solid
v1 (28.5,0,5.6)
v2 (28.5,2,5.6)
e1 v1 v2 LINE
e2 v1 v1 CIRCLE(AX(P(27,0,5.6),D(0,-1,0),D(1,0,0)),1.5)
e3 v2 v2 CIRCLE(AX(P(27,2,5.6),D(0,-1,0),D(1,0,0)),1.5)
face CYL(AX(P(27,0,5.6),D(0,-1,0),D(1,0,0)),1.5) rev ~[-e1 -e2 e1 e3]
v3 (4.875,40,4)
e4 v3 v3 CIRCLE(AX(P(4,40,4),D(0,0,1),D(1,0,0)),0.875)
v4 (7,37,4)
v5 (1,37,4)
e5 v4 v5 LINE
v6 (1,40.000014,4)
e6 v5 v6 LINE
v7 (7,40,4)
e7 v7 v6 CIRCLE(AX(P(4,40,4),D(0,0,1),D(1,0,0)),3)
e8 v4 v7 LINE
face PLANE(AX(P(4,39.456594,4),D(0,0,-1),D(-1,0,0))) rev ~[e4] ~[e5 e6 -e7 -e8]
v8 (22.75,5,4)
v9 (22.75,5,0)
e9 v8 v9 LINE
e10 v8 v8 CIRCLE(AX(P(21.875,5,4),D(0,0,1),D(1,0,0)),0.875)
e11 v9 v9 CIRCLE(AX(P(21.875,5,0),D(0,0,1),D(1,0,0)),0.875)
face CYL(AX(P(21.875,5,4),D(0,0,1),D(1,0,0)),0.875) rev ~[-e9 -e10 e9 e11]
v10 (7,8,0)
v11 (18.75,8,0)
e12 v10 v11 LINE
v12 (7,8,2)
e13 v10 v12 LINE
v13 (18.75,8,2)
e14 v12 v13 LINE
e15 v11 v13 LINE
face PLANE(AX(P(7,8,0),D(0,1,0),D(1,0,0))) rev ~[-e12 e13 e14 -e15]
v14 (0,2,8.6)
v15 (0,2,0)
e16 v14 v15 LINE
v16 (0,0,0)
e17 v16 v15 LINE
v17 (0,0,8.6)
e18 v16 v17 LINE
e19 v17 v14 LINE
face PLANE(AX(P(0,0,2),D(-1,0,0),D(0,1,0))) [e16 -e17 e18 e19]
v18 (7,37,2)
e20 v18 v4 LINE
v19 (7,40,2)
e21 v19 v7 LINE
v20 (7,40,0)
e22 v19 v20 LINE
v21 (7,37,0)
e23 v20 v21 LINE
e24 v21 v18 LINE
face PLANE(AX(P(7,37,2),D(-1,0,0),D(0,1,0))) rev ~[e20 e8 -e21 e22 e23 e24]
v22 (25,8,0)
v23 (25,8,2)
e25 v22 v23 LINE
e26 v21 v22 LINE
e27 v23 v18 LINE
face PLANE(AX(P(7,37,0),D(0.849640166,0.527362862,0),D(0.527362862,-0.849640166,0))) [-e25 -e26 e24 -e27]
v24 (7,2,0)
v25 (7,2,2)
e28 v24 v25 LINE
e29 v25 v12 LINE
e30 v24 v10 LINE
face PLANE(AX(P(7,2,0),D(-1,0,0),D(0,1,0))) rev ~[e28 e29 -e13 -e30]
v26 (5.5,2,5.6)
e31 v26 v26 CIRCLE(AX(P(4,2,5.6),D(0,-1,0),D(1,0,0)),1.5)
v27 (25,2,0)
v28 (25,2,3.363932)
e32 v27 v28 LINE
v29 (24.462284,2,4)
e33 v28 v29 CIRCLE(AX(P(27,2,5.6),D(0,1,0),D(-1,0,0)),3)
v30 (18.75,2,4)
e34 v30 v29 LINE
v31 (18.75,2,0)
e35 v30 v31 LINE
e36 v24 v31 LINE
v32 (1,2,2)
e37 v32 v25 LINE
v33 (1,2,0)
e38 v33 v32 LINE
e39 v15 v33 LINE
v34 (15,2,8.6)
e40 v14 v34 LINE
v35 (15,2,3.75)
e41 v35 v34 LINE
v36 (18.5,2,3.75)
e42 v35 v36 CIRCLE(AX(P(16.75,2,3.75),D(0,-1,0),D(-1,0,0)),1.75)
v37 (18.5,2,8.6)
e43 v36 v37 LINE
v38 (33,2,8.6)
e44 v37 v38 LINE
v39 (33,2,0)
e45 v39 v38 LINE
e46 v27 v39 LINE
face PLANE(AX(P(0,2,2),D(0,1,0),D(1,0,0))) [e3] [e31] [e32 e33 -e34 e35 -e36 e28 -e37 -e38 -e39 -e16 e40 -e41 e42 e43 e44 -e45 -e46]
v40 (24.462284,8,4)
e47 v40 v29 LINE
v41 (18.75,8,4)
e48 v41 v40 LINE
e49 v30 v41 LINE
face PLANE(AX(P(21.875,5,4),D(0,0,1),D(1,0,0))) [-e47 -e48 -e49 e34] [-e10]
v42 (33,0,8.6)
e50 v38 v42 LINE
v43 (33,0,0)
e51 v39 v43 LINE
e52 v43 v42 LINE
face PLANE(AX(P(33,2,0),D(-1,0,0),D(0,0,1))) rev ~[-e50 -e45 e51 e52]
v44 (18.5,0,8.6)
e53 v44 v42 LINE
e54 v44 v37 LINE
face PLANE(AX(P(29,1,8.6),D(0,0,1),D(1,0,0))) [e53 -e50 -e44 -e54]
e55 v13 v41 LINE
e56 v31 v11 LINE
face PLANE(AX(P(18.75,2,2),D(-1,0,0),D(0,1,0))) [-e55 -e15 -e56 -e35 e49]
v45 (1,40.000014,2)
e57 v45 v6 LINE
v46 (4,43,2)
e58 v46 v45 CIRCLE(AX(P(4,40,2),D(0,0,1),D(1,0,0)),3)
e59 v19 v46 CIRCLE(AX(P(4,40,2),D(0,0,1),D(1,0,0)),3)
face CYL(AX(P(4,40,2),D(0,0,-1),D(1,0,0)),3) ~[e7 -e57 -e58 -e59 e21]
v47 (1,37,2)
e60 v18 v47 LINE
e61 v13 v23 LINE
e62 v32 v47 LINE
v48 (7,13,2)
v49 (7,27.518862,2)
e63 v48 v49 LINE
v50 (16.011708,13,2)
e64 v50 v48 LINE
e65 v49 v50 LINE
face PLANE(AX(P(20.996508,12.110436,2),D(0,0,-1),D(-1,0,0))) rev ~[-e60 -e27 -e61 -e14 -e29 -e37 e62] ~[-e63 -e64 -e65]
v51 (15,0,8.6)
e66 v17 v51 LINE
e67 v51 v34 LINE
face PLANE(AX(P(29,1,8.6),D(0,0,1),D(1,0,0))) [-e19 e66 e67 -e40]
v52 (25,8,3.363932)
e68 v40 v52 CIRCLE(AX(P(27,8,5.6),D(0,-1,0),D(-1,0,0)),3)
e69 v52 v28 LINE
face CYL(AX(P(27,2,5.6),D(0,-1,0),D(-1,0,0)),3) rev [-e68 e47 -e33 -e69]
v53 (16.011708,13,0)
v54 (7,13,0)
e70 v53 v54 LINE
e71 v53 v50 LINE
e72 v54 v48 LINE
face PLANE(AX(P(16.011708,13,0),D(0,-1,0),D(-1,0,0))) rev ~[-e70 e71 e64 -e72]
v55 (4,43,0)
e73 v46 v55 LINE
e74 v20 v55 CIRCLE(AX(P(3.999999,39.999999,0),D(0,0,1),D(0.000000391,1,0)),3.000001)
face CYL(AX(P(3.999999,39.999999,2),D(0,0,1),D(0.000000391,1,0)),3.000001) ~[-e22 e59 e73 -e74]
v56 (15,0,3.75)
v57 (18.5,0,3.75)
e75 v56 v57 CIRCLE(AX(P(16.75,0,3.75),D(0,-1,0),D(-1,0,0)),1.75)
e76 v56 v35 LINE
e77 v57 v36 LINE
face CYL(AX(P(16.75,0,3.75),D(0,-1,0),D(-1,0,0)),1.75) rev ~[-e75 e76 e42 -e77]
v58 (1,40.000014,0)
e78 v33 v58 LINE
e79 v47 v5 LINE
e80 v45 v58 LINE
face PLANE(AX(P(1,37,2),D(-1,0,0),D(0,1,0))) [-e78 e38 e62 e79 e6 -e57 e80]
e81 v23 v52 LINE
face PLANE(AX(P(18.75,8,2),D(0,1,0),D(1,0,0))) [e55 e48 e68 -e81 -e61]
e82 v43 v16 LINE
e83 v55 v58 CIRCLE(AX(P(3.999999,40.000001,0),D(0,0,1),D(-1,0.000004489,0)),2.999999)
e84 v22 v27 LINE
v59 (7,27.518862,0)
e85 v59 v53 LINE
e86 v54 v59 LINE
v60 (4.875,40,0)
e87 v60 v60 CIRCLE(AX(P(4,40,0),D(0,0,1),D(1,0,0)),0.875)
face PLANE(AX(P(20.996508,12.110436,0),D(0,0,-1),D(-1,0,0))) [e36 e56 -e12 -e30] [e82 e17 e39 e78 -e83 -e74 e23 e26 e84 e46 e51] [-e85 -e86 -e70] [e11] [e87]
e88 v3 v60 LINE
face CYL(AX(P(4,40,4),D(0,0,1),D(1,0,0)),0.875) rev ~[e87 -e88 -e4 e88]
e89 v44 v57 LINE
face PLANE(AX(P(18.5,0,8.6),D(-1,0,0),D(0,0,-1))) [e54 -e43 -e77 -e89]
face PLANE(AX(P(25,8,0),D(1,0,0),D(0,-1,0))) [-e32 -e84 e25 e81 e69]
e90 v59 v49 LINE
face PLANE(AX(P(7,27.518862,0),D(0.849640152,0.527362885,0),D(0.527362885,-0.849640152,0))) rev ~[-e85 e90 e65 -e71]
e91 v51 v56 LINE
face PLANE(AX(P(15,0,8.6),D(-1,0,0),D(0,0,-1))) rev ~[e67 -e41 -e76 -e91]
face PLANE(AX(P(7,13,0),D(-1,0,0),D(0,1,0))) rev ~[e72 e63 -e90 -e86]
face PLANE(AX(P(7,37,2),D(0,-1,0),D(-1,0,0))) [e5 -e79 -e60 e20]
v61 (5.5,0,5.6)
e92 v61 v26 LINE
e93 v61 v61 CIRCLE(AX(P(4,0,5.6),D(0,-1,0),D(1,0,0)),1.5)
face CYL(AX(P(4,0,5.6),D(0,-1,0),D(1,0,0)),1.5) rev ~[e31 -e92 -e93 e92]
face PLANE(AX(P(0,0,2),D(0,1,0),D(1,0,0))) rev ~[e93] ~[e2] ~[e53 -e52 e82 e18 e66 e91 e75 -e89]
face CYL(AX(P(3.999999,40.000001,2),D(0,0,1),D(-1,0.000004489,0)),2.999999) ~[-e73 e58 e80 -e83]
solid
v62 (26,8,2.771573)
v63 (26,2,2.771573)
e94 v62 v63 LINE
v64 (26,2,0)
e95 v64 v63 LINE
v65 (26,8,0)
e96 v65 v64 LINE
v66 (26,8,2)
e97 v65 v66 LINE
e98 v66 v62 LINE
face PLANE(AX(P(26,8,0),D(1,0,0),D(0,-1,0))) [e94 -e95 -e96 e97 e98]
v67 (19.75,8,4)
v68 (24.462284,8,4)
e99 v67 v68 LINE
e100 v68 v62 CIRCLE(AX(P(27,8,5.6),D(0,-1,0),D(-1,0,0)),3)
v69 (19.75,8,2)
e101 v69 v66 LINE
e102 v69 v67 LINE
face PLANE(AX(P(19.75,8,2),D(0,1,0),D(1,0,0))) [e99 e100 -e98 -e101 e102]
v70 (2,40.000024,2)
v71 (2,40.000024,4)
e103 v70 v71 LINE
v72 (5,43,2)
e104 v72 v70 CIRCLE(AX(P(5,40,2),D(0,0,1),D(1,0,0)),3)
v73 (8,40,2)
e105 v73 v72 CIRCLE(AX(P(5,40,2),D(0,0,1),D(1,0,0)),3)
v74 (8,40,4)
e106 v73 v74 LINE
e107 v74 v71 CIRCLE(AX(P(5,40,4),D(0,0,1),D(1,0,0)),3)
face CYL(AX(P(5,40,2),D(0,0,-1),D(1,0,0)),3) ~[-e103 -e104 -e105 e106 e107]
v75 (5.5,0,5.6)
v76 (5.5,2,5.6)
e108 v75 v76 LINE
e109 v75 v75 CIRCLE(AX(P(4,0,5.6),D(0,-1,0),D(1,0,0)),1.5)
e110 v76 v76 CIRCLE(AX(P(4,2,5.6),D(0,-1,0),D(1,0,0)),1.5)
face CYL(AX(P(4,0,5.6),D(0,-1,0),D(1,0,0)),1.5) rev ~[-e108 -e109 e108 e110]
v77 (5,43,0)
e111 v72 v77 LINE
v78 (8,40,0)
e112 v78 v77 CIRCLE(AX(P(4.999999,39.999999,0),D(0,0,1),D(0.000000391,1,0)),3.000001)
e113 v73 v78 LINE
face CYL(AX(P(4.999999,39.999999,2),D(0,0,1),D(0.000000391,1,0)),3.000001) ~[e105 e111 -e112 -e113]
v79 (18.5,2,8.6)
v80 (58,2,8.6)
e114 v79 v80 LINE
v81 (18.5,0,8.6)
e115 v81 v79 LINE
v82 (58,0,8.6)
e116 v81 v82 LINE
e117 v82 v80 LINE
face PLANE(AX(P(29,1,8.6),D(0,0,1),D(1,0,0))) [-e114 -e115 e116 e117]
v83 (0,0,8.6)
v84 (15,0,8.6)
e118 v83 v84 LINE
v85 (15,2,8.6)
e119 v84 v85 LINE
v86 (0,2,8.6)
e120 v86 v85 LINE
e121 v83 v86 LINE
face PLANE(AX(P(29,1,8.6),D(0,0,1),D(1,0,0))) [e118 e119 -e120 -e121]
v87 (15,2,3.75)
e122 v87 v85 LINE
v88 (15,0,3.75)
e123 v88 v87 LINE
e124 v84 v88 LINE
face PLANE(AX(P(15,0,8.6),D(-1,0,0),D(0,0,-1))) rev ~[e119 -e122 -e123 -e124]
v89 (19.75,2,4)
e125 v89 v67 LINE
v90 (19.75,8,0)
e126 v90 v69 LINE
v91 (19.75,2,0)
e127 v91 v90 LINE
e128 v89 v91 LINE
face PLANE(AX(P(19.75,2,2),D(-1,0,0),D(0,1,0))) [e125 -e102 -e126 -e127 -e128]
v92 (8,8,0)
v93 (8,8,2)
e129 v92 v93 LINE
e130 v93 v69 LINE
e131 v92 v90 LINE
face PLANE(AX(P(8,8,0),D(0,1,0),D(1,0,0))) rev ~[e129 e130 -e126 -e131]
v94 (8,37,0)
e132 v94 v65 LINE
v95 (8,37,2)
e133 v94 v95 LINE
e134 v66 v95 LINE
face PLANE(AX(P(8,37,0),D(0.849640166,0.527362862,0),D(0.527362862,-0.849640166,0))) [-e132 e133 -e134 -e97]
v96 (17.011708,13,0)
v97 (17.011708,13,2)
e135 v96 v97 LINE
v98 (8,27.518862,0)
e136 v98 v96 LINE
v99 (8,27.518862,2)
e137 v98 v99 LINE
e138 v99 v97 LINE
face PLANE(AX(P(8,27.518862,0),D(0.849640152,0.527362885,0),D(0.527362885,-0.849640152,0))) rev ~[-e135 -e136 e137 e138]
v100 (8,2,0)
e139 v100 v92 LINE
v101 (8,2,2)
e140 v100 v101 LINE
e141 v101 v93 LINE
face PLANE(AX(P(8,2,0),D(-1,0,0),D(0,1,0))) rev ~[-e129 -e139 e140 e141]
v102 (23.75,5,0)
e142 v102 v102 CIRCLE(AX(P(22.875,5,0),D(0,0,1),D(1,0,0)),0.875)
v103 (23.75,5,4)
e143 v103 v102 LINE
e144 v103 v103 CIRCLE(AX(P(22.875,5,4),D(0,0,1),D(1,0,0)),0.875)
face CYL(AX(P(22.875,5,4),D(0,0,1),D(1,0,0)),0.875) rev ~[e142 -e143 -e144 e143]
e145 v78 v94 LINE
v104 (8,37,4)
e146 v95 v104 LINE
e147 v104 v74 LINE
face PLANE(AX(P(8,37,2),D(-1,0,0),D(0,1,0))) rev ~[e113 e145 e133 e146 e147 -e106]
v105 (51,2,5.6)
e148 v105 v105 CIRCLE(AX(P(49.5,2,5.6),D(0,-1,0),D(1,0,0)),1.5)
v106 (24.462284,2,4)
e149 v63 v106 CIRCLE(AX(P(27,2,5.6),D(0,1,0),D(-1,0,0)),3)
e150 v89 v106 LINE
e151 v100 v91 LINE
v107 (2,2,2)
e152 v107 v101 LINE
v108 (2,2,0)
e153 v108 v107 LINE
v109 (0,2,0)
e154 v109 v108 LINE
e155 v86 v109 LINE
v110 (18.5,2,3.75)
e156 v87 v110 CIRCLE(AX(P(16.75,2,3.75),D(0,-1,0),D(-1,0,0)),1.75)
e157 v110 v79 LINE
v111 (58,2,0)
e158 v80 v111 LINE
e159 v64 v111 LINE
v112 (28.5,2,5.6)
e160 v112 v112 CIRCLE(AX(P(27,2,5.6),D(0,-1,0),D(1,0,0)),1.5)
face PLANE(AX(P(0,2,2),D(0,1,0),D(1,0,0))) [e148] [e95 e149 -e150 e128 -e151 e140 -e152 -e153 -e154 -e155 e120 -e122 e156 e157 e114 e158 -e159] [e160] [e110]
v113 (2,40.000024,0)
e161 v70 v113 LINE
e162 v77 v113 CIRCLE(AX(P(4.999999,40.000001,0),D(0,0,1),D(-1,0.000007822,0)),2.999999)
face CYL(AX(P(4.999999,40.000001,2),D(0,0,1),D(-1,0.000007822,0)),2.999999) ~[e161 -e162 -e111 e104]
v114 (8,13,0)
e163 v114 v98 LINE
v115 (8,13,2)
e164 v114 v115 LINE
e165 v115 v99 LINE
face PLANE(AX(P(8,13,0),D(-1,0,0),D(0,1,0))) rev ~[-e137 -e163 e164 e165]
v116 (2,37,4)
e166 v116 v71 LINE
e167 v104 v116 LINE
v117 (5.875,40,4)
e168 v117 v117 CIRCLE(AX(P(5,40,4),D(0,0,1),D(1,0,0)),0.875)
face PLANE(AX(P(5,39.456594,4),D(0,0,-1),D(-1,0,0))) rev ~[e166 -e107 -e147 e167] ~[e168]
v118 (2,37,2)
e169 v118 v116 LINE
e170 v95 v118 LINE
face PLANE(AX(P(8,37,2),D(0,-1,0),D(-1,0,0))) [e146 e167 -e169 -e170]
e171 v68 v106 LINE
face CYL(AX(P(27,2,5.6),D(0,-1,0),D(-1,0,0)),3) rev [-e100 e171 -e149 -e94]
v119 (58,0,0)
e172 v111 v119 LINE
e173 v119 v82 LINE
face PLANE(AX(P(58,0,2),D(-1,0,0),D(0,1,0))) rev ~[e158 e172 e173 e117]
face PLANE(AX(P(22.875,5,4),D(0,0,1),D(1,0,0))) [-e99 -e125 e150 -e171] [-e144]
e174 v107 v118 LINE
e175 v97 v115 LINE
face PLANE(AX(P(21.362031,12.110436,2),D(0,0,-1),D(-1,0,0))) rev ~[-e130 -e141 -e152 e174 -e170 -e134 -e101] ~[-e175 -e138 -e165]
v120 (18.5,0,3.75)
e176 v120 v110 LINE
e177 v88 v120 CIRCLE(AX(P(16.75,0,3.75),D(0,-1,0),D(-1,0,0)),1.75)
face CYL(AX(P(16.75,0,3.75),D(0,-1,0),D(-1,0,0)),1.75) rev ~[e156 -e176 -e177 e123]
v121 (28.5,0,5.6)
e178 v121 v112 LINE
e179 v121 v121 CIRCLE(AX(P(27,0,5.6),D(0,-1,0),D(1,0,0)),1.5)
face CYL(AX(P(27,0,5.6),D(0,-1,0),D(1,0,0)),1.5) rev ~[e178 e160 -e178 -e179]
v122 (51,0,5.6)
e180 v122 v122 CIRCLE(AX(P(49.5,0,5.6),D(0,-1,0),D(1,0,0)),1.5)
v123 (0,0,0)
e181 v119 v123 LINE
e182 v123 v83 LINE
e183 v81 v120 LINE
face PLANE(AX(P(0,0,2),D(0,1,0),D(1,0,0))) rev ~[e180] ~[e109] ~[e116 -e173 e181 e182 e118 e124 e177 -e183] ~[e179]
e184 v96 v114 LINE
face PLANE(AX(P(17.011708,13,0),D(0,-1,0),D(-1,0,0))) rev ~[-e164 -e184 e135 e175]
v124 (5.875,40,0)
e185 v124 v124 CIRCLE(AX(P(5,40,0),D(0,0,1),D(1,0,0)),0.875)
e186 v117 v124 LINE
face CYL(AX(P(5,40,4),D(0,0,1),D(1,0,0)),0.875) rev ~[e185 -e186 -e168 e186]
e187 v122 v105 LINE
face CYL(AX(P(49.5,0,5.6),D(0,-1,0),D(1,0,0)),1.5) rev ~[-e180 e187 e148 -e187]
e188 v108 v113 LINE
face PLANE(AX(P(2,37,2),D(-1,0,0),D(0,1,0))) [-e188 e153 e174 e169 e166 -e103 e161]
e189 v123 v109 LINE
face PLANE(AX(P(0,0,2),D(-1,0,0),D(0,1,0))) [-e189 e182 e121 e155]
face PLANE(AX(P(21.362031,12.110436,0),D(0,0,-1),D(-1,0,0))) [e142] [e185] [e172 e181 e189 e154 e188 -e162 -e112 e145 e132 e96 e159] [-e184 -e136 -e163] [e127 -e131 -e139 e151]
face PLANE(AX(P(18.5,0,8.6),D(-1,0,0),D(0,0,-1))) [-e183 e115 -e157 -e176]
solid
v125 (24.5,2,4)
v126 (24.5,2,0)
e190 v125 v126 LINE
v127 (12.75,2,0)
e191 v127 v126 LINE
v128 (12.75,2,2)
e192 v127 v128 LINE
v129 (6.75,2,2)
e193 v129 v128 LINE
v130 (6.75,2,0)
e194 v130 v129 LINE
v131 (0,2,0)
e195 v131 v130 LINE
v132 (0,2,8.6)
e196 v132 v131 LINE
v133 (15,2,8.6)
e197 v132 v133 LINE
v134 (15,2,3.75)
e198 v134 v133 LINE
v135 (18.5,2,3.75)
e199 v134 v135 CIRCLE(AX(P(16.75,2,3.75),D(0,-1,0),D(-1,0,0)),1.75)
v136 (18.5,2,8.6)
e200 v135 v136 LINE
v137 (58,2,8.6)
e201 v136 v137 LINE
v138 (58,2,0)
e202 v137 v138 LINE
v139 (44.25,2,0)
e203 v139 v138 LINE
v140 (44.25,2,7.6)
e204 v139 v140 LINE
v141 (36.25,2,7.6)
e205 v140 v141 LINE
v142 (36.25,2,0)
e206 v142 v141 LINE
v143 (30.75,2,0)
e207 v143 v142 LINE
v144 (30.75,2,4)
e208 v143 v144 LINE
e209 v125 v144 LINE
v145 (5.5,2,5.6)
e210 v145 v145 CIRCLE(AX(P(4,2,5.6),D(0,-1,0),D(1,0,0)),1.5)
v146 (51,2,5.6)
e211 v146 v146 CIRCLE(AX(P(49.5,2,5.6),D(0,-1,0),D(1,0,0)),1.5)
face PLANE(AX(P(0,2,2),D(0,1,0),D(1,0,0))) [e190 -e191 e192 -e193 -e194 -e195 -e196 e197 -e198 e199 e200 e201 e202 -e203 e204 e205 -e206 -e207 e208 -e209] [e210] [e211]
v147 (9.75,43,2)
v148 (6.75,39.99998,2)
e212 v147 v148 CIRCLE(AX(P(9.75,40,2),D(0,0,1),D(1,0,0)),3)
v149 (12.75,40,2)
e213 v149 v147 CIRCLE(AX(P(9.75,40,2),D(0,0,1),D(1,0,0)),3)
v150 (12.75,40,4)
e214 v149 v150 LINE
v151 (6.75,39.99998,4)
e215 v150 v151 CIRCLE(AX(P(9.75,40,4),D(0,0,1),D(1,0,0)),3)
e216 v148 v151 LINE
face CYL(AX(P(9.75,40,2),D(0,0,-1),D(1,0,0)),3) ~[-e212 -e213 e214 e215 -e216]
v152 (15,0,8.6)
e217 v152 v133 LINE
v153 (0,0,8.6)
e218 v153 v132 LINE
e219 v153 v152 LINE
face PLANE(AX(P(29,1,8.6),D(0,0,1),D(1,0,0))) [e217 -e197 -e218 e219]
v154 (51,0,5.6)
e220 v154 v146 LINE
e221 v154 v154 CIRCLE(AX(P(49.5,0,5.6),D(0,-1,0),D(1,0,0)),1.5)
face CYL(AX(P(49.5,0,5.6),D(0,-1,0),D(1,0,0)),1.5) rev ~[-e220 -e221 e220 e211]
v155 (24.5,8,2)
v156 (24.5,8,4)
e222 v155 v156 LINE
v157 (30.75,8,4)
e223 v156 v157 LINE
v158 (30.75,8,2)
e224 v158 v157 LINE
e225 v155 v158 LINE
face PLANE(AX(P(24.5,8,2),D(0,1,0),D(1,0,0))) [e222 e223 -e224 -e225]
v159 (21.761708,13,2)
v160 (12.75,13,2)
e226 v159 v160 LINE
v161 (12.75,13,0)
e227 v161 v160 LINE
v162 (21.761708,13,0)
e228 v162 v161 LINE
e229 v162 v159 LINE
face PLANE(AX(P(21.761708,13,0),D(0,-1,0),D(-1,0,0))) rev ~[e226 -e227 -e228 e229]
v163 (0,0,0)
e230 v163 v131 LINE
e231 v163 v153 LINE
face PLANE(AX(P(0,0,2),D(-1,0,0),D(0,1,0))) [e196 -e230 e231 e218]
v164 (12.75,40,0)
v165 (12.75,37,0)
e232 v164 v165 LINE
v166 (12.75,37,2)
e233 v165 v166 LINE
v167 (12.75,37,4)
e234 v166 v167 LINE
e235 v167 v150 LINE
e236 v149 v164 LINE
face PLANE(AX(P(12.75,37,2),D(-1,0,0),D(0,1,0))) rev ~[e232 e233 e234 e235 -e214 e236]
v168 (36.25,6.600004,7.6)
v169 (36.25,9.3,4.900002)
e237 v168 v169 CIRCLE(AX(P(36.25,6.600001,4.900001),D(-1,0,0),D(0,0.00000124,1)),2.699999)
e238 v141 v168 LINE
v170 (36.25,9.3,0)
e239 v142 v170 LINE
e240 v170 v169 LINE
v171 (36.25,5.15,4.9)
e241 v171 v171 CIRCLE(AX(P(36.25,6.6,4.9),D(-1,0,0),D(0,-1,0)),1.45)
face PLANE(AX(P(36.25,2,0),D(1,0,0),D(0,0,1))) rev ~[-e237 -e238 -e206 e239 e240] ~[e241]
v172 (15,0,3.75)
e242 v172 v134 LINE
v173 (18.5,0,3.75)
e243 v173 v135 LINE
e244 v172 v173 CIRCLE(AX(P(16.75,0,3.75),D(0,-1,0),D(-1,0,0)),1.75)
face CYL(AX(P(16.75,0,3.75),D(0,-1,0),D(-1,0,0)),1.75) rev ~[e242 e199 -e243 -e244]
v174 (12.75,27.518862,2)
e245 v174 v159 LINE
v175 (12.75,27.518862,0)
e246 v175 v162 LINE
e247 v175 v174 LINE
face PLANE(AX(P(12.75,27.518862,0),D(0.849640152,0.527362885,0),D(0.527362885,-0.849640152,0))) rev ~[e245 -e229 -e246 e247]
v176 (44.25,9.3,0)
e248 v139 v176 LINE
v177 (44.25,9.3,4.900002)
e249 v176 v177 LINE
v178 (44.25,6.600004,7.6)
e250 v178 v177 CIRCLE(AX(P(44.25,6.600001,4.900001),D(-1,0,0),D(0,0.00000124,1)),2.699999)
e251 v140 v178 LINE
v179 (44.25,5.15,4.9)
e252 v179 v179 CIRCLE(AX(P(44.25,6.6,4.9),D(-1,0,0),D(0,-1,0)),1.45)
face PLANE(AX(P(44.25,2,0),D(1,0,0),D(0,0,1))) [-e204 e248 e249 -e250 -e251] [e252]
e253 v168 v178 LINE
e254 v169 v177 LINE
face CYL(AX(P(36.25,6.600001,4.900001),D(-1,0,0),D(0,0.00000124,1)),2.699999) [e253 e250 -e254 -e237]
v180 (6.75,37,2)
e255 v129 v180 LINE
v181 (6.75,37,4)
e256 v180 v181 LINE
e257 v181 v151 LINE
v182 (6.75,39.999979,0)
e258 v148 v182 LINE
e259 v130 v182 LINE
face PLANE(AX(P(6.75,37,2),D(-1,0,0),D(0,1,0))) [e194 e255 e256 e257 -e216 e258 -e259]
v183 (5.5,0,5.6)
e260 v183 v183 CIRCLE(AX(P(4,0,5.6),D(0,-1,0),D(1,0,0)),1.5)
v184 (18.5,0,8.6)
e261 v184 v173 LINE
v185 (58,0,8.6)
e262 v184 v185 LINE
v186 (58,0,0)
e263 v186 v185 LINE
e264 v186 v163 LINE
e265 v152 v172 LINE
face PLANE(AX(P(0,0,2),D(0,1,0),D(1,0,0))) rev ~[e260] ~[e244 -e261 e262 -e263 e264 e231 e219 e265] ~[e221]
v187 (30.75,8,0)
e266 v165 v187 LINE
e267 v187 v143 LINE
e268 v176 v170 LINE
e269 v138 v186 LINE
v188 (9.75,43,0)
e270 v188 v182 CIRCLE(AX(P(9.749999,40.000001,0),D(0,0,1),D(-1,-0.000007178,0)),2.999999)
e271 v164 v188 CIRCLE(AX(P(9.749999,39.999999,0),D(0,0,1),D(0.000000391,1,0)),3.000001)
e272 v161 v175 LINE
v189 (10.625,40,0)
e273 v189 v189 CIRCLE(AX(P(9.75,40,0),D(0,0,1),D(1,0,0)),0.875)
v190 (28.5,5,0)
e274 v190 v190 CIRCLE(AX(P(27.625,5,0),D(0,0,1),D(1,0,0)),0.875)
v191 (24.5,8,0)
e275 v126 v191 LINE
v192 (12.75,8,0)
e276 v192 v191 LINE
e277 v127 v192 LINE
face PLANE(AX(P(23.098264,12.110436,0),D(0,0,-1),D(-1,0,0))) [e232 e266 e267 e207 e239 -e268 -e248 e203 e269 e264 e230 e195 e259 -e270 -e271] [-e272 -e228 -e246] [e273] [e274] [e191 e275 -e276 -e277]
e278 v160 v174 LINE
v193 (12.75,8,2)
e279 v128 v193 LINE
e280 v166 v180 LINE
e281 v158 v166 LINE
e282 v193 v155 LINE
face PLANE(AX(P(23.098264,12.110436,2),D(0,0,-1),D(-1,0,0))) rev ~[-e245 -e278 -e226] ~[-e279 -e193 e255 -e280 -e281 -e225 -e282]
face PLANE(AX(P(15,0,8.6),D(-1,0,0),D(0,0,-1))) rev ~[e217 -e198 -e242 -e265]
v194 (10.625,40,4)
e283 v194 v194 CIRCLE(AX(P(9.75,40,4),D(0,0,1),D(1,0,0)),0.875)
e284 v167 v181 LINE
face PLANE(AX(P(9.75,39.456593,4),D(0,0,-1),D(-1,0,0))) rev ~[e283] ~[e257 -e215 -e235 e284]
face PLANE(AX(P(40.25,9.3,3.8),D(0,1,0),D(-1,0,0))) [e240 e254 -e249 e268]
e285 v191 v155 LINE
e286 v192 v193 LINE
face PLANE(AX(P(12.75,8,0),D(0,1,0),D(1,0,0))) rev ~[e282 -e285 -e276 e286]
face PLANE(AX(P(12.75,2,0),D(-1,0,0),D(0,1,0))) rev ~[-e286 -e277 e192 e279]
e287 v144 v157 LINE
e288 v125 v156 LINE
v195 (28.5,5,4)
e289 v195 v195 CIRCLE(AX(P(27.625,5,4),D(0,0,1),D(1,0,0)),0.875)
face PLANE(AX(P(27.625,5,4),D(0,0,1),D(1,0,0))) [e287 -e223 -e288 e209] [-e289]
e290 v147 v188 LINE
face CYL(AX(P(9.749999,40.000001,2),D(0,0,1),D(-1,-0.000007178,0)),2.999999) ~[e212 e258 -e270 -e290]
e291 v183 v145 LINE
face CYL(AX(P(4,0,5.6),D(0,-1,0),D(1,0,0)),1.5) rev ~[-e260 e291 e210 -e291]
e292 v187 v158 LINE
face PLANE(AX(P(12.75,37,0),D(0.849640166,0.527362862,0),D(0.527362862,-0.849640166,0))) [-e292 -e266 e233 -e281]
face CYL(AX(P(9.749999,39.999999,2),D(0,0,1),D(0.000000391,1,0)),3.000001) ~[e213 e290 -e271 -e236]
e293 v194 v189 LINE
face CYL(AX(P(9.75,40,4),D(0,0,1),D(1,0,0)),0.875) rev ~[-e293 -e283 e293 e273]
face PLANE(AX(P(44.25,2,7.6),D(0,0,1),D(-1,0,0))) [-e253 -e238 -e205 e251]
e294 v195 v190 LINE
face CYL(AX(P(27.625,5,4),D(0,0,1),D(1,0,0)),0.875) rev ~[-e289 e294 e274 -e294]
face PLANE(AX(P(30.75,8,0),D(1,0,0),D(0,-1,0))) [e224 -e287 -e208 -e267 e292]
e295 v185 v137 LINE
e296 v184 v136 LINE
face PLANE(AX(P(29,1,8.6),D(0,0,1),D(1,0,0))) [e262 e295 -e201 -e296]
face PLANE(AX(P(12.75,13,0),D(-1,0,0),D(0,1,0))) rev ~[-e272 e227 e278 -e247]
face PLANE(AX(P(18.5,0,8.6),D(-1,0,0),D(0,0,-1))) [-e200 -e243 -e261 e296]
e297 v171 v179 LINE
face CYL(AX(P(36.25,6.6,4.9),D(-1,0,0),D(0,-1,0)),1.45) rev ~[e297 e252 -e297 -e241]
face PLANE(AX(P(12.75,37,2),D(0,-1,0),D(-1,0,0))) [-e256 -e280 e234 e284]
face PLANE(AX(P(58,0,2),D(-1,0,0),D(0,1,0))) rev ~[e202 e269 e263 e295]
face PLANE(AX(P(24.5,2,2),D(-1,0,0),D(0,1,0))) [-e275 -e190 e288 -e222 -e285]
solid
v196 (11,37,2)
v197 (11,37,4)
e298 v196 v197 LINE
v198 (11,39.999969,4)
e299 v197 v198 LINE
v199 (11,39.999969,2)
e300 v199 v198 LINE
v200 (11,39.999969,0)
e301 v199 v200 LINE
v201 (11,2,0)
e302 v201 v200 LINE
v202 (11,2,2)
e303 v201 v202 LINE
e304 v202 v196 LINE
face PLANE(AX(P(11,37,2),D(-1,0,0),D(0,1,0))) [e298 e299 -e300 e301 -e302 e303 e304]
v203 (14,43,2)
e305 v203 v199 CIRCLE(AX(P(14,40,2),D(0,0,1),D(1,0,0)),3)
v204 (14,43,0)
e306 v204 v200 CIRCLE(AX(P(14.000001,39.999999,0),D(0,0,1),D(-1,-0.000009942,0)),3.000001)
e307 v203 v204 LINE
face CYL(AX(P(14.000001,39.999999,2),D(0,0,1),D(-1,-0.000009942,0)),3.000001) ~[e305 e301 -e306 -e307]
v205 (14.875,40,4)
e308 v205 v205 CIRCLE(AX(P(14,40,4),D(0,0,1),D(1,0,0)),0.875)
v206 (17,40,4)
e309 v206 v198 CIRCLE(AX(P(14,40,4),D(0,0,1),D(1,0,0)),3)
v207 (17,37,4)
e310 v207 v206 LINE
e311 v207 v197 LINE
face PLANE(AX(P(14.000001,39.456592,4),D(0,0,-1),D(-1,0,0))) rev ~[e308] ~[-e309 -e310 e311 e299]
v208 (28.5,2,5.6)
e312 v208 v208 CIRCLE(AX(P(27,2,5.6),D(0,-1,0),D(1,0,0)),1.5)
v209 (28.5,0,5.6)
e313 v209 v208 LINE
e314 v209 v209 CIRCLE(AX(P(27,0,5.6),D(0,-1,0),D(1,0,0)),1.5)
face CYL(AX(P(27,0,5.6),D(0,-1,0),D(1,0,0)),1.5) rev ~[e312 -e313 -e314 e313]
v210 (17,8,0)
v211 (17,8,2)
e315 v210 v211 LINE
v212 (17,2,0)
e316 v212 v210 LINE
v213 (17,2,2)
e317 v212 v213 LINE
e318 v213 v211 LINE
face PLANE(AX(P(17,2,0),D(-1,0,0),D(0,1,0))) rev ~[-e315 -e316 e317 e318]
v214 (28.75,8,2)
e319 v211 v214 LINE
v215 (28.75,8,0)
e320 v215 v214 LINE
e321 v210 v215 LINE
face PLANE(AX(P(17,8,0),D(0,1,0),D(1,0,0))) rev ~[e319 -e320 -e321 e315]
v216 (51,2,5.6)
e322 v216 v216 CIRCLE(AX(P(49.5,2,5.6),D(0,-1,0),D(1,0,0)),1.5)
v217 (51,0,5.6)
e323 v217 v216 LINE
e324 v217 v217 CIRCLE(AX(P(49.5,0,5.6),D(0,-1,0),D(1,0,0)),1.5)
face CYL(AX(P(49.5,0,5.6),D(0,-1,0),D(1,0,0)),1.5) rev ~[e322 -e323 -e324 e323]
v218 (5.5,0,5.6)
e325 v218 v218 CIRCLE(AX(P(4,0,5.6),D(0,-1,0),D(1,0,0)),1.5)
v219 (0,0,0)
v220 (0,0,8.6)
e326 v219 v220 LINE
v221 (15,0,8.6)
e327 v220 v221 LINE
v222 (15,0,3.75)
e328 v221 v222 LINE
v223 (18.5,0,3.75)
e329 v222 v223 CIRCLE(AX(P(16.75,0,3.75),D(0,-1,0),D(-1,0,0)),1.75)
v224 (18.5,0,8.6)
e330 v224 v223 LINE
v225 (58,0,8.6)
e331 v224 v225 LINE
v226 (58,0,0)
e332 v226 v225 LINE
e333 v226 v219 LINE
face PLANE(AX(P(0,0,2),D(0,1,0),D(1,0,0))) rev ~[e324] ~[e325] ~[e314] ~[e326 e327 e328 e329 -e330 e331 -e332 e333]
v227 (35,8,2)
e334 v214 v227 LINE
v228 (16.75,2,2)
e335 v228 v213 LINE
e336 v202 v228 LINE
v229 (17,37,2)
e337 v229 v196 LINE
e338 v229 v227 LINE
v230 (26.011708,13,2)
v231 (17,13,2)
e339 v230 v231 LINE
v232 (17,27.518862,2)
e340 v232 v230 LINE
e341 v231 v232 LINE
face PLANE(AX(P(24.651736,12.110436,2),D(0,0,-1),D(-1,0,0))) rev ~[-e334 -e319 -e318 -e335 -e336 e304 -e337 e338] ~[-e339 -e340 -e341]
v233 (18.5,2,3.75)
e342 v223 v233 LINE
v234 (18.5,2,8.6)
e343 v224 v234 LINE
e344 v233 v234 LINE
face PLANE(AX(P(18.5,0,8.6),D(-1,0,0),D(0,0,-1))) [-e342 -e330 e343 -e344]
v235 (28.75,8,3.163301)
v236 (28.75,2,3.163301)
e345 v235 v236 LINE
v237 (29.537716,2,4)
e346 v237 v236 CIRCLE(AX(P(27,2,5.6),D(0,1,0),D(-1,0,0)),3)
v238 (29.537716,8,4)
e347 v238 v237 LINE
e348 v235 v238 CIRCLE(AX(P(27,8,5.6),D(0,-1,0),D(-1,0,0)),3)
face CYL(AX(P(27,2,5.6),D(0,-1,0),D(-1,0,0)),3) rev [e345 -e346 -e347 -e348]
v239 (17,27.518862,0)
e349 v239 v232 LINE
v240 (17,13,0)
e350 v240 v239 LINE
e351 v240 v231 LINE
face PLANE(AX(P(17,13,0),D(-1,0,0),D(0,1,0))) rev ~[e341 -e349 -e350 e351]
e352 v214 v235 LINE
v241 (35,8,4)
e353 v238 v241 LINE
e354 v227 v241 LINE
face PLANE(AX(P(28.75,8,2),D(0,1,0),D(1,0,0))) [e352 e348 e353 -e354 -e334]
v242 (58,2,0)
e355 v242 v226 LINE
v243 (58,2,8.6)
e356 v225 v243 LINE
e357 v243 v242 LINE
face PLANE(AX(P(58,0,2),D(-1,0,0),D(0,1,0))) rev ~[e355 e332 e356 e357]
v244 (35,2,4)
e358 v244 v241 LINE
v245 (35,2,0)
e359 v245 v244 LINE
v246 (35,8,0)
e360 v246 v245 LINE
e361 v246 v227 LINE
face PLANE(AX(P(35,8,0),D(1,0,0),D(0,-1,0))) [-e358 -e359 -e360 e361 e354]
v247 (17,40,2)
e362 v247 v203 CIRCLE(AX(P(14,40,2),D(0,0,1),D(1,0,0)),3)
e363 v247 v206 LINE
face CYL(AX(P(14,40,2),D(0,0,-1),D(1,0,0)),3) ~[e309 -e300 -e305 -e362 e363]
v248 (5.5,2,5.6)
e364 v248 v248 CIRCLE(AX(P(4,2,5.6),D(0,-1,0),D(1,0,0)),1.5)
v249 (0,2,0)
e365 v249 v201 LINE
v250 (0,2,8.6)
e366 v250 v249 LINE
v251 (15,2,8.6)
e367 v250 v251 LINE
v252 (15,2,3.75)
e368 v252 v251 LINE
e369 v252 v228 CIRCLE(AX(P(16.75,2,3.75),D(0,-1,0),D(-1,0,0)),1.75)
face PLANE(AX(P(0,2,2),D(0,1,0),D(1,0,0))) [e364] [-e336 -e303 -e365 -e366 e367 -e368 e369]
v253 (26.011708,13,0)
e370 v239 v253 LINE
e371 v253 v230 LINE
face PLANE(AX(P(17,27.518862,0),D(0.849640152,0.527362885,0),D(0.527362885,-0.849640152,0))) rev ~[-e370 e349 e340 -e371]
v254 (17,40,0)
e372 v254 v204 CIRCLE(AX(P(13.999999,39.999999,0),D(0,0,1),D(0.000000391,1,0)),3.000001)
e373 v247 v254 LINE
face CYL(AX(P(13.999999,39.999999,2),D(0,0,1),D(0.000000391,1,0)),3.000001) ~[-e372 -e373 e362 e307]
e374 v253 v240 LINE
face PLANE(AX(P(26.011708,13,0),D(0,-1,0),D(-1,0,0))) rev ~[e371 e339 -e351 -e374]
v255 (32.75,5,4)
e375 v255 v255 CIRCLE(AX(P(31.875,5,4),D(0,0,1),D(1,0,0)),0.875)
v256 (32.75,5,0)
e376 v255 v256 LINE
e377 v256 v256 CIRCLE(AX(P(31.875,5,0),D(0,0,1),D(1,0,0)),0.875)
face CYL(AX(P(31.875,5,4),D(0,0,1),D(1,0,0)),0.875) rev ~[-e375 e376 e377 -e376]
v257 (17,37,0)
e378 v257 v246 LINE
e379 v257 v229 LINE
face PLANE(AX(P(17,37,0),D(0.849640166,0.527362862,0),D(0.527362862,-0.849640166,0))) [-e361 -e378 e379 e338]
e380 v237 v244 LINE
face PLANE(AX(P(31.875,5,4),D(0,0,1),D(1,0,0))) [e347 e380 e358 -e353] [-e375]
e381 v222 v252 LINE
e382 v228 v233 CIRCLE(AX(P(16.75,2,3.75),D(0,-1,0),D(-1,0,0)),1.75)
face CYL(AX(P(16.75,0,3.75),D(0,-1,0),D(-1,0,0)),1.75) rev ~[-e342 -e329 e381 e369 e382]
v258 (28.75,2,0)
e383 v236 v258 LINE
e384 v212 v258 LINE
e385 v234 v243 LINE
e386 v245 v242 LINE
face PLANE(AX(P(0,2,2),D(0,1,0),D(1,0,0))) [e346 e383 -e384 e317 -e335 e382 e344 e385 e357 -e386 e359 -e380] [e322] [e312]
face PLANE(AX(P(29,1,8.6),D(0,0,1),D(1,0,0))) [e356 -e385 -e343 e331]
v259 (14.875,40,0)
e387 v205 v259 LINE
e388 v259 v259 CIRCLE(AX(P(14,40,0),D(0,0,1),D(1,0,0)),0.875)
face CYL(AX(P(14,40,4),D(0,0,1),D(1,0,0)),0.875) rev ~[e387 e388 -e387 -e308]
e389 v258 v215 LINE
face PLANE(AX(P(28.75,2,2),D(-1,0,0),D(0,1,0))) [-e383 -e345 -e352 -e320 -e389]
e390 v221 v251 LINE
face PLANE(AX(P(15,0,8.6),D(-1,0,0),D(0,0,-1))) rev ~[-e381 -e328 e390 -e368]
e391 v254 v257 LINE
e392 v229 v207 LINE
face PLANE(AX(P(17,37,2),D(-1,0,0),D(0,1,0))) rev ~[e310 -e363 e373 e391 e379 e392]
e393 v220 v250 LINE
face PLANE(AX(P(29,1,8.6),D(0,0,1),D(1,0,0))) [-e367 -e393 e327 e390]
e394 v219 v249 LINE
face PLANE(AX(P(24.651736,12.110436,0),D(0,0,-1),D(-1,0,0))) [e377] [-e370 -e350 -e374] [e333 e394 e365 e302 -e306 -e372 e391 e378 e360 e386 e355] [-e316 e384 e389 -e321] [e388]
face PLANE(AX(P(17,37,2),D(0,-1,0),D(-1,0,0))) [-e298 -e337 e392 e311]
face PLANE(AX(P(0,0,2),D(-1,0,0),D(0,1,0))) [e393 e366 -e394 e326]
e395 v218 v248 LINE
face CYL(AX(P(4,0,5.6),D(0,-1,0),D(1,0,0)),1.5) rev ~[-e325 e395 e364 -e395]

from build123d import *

# Parameters (mm, degrees)
SKETCH_W        = 11.75
SKETCH_H        = 6
PAD_DEPTH       = 2
SKETCH001_W     = 6.25
SKETCH001_H     = 6
PAD001_DEPTH    = 2
POCKET_DEPTH    = 2.001
SKETCH002_R     = 0.875
POCKET001_DEPTH = 4.001
SKETCH003_W     = 58
SKETCH003_H     = 2
PAD002_DEPTH    = 6.6
SKETCH004_R     = 1.5
POCKET002_DEPTH = 43.001
SKETCH012_W     = 8
SKETCH012_H     = 7.6
PAD006_DEPTH    = 7.3
SKETCH013_R     = 1.45
POCKET008_DEPTH = 21.751
SKETCH006_W     = 11.75
SKETCH006_H     = 6
PAD003_DEPTH    = 2
SKETCH007_W     = 6.25
SKETCH007_H     = 6
PAD004_DEPTH    = 2
POCKET004_DEPTH = 2.001
SKETCH008_R     = 0.875
POCKET005_DEPTH = 4.001
SKETCH009_W     = 58
SKETCH009_H     = 2
PAD005_DEPTH    = 6.6
SKETCH010_R     = 1.5
POCKET006_DEPTH = 43.001
SKETCH011_R     = 3
POCKET007_DEPTH = 41.001
SKETCH014_W     = 11.75
SKETCH014_H     = 6
PAD007_DEPTH    = 2
SKETCH015_W     = 6.25
SKETCH015_H     = 6
PAD008_DEPTH    = 2
POCKET009_DEPTH = 2.001
SKETCH016_R     = 0.875
POCKET010_DEPTH = 4.001
SKETCH017_W     = 58
SKETCH017_H     = 2
PAD009_DEPTH    = 6.6
SKETCH018_R     = 1.5
POCKET011_DEPTH = 43.001
SKETCH019_R     = 3
POCKET012_DEPTH = 41.001
SKETCH020_W     = 25
SKETCH020_H     = 8.6
POCKET013_DEPTH = 2.001
SKETCH021_W     = 11.75
SKETCH021_H     = 6
PAD010_DEPTH    = 2
SKETCH022_W     = 6.25
SKETCH022_H     = 6
PAD011_DEPTH    = 2
POCKET014_DEPTH = 2.001
SKETCH023_R     = 0.875
POCKET015_DEPTH = 4.001
SKETCH024_W     = 58
SKETCH024_H     = 2
PAD012_DEPTH    = 6.6
SKETCH025_R     = 1.5
POCKET016_DEPTH = 5
SKETCH026_R     = 3
POCKET017_DEPTH = 41.001


with BuildPart() as original:
    # Sketch → Pad (new body)
    with BuildSketch(Plane.XY):
        Polygon((0, 0), (0, 2), (6.75, 2), (6.75, 43), (12.75, 43), (12.75, 37), (30.75, 8), (30.75, 2), (58, 2), (58, 0), align=None)
        with Locations((18.625, 5)):
            Rectangle(SKETCH_W, SKETCH_H, mode=Mode.SUBTRACT)
        Polygon((12.75, 13), (12.75, 27.518862), (21.761708, 13), align=None, mode=Mode.SUBTRACT)
    extrude(amount=PAD_DEPTH)

    # Sketch001 (on Face19 of Pad) → Pad001 (join)
    with BuildSketch(Plane.XY.offset(2)):
        with BuildLine():
            Line((12.75, 37), (6.75, 37))
            Line((6.75, 37), (6.75, 39.99998))
            ThreePointArc((12.75, 40), (9.74999, 43), (6.75, 39.99998))
            Line((12.75, 37), (12.75, 40))
        make_face()
        with Locations((27.625, 5)):
            Rectangle(SKETCH001_W, SKETCH001_H)
    extrude(amount=PAD001_DEPTH)

    # ShapeBinder → Pocket (cut, through all)
    with BuildSketch(Plane(origin=(12.079896, 42.329896, 2), x_dir=(0, 1, 0), z_dir=(0, 0, 1))):
        with BuildLine():
            ThreePointArc((0.670104, 2.329896), (-0.208576, 0.208576), (-2.329896, -0.670104))
            Line((-2.329896, -0.670104), (0.670104, -0.670104))
            Line((0.670104, -0.670104), (0.670104, 2.329896))
        make_face()
        with BuildLine():
            ThreePointArc((-2.329917, 5.329896), (-0.208583, 4.451224), (0.670104, 2.329896))
            Line((0.670104, 2.329896), (0.670104, 5.329896))
            Line((0.670104, 5.329896), (-2.329917, 5.329896))
        make_face()
    extrude(amount=-POCKET_DEPTH, mode=Mode.SUBTRACT)

    # Sketch002 (on Face23 of Pocket) → Pocket001 (cut, through all)
    with BuildSketch(Plane.XY.offset(4)):
        with Locations((9.75, 40)):
            Circle(SKETCH002_R)
        with Locations((27.625, 5)):
            Circle(SKETCH002_R)
    extrude(amount=-POCKET001_DEPTH, mode=Mode.SUBTRACT)

    # Sketch003 (on Face5 of Pocket001) → Pad002 (join)
    with BuildSketch(Plane.XY.offset(2)):
        with Locations((29, 1)):
            Rectangle(SKETCH003_W, SKETCH003_H)
    extrude(amount=PAD002_DEPTH)

    # Sketch004 (on Face23 of Pad002) → Pocket002 (cut, through all)
    with BuildSketch(Plane.XZ):
        with Locations((4, 5.6)):
            Circle(SKETCH004_R)
        with Locations((49.5, 5.6)):
            Circle(SKETCH004_R)
        with BuildLine():
            Line((15, 8.6), (18.5, 8.6))
            Line((18.5, 8.6), (18.5, 3.75))
            ThreePointArc((15, 3.75), (16.75, 2), (18.5, 3.75))
            Line((15, 8.6), (15, 3.75))
        make_face()
    extrude(amount=-POCKET002_DEPTH, mode=Mode.SUBTRACT)

    # Sketch012 (on Face6 of Pocket002) → Pad006 (join)
    with BuildSketch(Plane(origin=(0, 2, 0), x_dir=(-1, 0, 0), z_dir=(0, 1, 0))):
        with Locations((-40.25, 3.8)):
            Rectangle(SKETCH012_W, SKETCH012_H)
    extrude(amount=PAD006_DEPTH)

    # Sketch013 (on Face20 of Pad006) → Pocket008 (cut, through all)
    with BuildSketch(Plane(origin=(36.25, 0, 0), x_dir=(0, -1, 0), z_dir=(-1, 0, 0))):
        with Locations((-6.6, 4.9)):
            Circle(SKETCH013_R)
        with BuildLine():
            ThreePointArc((-6.600004, 7.6), (-8.509189, 6.809188), (-9.3, 4.900002))
            Line((-9.3, 4.900002), (-9.3, 7.6))
            Line((-9.3, 7.6), (-6.600004, 7.6))
        make_face()
    extrude(amount=-POCKET008_DEPTH, mode=Mode.SUBTRACT)


with BuildPart() as no_holder:
    # Sketch006 → Pad003 (new body)
    with BuildSketch(Plane.XY):
        Polygon((0, 0), (0, 2), (2, 2), (2, 43), (8, 43), (8, 37), (26, 8), (26, 2), (58, 2), (58, 0), align=None)
        with Locations((13.875, 5)):
            Rectangle(SKETCH006_W, SKETCH006_H, mode=Mode.SUBTRACT)
        Polygon((8, 13), (8, 27.518862), (17.011708, 13), align=None, mode=Mode.SUBTRACT)
    extrude(amount=PAD003_DEPTH)

    # Sketch007 (on Face19 of Pad003) → Pad004 (join)
    with BuildSketch(Plane.XY.offset(2)):
        with BuildLine():
            Line((8, 37), (2, 37))
            Line((2, 37), (2, 40.000024))
            ThreePointArc((8, 40), (5.000012, 43), (2, 40.000024))
            Line((8, 37), (8, 40))
        make_face()
        with Locations((22.875, 5)):
            Rectangle(SKETCH007_W, SKETCH007_H)
    extrude(amount=PAD004_DEPTH)

    # ShapeBinder001 → Pocket004 (cut, through all)
    with BuildSketch(Plane(origin=(7.329896, 42.329896, 2), x_dir=(0, 1, 0), z_dir=(0, 0, 1))):
        with BuildLine():
            ThreePointArc((0.670104, 2.329896), (-0.208576, 0.208576), (-2.329896, -0.670104))
            Line((-2.329896, -0.670104), (0.670104, -0.670104))
            Line((0.670104, -0.670104), (0.670104, 2.329896))
        make_face()
        with BuildLine():
            ThreePointArc((-2.329872, 5.329896), (-0.208567, 4.451208), (0.670104, 2.329896))
            Line((0.670104, 2.329896), (0.670104, 5.329896))
            Line((0.670104, 5.329896), (-2.329872, 5.329896))
        make_face()
    extrude(amount=-POCKET004_DEPTH, mode=Mode.SUBTRACT)

    # Sketch008 (on Face23 of Pocket004) → Pocket005 (cut, through all)
    with BuildSketch(Plane.XY.offset(4)):
        with Locations((5, 40)):
            Circle(SKETCH008_R)
        with Locations((22.875, 5)):
            Circle(SKETCH008_R)
    extrude(amount=-POCKET005_DEPTH, mode=Mode.SUBTRACT)

    # Sketch009 (on Face5 of Pocket005) → Pad005 (join)
    with BuildSketch(Plane.XY.offset(2)):
        with Locations((29, 1)):
            Rectangle(SKETCH009_W, SKETCH009_H)
    extrude(amount=PAD005_DEPTH)

    # Sketch010 (on Face23 of Pad005) → Pocket006 (cut, through all)
    with BuildSketch(Plane.XZ):
        with Locations((4, 5.6)):
            Circle(SKETCH010_R)
        with Locations((49.5, 5.6)):
            Circle(SKETCH010_R)
        with Locations((27, 5.6)):
            Circle(SKETCH010_R)
        with BuildLine():
            Line((15, 8.6), (18.5, 8.6))
            Line((18.5, 8.6), (18.5, 3.75))
            ThreePointArc((15, 3.75), (16.75, 2), (18.5, 3.75))
            Line((15, 8.6), (15, 3.75))
        make_face()
    extrude(amount=-POCKET006_DEPTH, mode=Mode.SUBTRACT)

    # Sketch011 (on Face6 of Pocket006) → Pocket007 (cut, through all)
    with BuildSketch(Plane(origin=(0, 2, 0), x_dir=(-1, 0, 0), z_dir=(0, 1, 0))):
        with Locations((-27, 5.6)):
            Circle(SKETCH011_R)
    extrude(amount=POCKET007_DEPTH, mode=Mode.SUBTRACT)


with BuildPart() as sd_expander:
    # Sketch014 → Pad007 (new body)
    with BuildSketch(Plane.XY):
        Polygon((0, 0), (0, 2), (1, 2), (1, 43), (7, 43), (7, 37), (25, 8), (25, 2), (58, 2), (58, 0), align=None)
        with Locations((12.875, 5)):
            Rectangle(SKETCH014_W, SKETCH014_H, mode=Mode.SUBTRACT)
        Polygon((7, 13), (7, 27.518862), (16.011708, 13), align=None, mode=Mode.SUBTRACT)
    extrude(amount=PAD007_DEPTH)

    # Sketch015 (on Face19 of Pad007) → Pad008 (join)
    with BuildSketch(Plane.XY.offset(2)):
        with BuildLine():
            Line((7, 37), (1, 37))
            Line((1, 37), (1, 40.000014))
            ThreePointArc((7, 40), (4.000007, 43), (1, 40.000014))
            Line((7, 37), (7, 40))
        make_face()
        with Locations((21.875, 5)):
            Rectangle(SKETCH015_W, SKETCH015_H)
    extrude(amount=PAD008_DEPTH)

    # ShapeBinder002 → Pocket009 (cut, through all)
    with BuildSketch(Plane(origin=(6.329896, 42.329896, 2), x_dir=(0, 1, 0), z_dir=(0, 0, 1))):
        with BuildLine():
            ThreePointArc((0.670104, 2.329896), (-0.208576, 0.208576), (-2.329896, -0.670104))
            Line((-2.329896, -0.670104), (0.670104, -0.670104))
            Line((0.670104, -0.670104), (0.670104, 2.329896))
        make_face()
        with BuildLine():
            ThreePointArc((-2.329882, 5.329896), (-0.208571, 4.451212), (0.670104, 2.329896))
            Line((0.670104, 2.329896), (0.670104, 5.329896))
            Line((0.670104, 5.329896), (-2.329882, 5.329896))
        make_face()
    extrude(amount=-POCKET009_DEPTH, mode=Mode.SUBTRACT)

    # Sketch016 (on Face23 of Pocket009) → Pocket010 (cut, through all)
    with BuildSketch(Plane.XY.offset(4)):
        with Locations((4, 40)):
            Circle(SKETCH016_R)
        with Locations((21.875, 5)):
            Circle(SKETCH016_R)
    extrude(amount=-POCKET010_DEPTH, mode=Mode.SUBTRACT)

    # Sketch017 (on Face5 of Pocket010) → Pad009 (join)
    with BuildSketch(Plane.XY.offset(2)):
        with Locations((29, 1)):
            Rectangle(SKETCH017_W, SKETCH017_H)
    extrude(amount=PAD009_DEPTH)

    # Sketch018 (on Face23 of Pad009) → Pocket011 (cut, through all)
    with BuildSketch(Plane.XZ):
        with Locations((4, 5.6)):
            Circle(SKETCH018_R)
        with Locations((49.5, 5.6)):
            Circle(SKETCH018_R)
        with Locations((27, 5.6)):
            Circle(SKETCH018_R)
        with BuildLine():
            Line((15, 8.6), (18.5, 8.6))
            Line((18.5, 8.6), (18.5, 3.75))
            ThreePointArc((15, 3.75), (16.75, 2), (18.5, 3.75))
            Line((15, 8.6), (15, 3.75))
        make_face()
    extrude(amount=-POCKET011_DEPTH, mode=Mode.SUBTRACT)

    # Sketch019 (on Face6 of Pocket011) → Pocket012 (cut, through all)
    with BuildSketch(Plane(origin=(0, 2, 0), x_dir=(-1, 0, 0), z_dir=(0, 1, 0))):
        with Locations((-27, 5.6)):
            Circle(SKETCH019_R)
    extrude(amount=POCKET012_DEPTH, mode=Mode.SUBTRACT)

    # Sketch020 (on Face32 of Pocket012) → Pocket013 (cut, through all)
    with BuildSketch(Plane(origin=(0, 2, 0), x_dir=(-1, 0, 0), z_dir=(0, 1, 0))):
        with Locations((-45.5, 4.3)):
            Rectangle(SKETCH020_W, SKETCH020_H)
    extrude(amount=-POCKET013_DEPTH, mode=Mode.SUBTRACT)


with BuildPart() as sd_io:
    # Sketch021 → Pad010 (new body)
    with BuildSketch(Plane.XY):
        Polygon((0, 0), (0, 2), (11, 2), (11, 43), (17, 43), (17, 37), (35, 8), (35, 2), (58, 2), (58, 0), align=None)
        with Locations((22.875, 5)):
            Rectangle(SKETCH021_W, SKETCH021_H, mode=Mode.SUBTRACT)
        Polygon((17, 13), (17, 27.518862), (26.011708, 13), align=None, mode=Mode.SUBTRACT)
    extrude(amount=PAD010_DEPTH)

    # Sketch022 (on Face19 of Pad010) → Pad011 (join)
    with BuildSketch(Plane.XY.offset(2)):
        with BuildLine():
            Line((17, 37), (11, 37))
            Line((11, 37), (11, 39.999969))
            ThreePointArc((17, 40), (13.999984, 43), (11, 39.999969))
            Line((17, 37), (17, 40))
        make_face()
        with Locations((31.875, 5)):
            Rectangle(SKETCH022_W, SKETCH022_H)
    extrude(amount=PAD011_DEPTH)

    # ShapeBinder003 → Pocket014 (cut, through all)
    with BuildSketch(Plane(origin=(16.329896, 42.329896, 2), x_dir=(0, 1, 0), z_dir=(0, 0, 1))):
        with BuildLine():
            ThreePointArc((0.670104, 2.329896), (-0.208576, 0.208576), (-2.329896, -0.670104))
            Line((-2.329896, -0.670104), (0.670104, -0.670104))
            Line((0.670104, -0.670104), (0.670104, 2.329896))
        make_face()
        with BuildLine():
            ThreePointArc((-2.329927, 5.329896), (-0.208587, 4.451227), (0.670104, 2.329896))
            Line((0.670104, 2.329896), (0.670104, 5.329896))
            Line((0.670104, 5.329896), (-2.329927, 5.329896))
        make_face()
    extrude(amount=-POCKET014_DEPTH, mode=Mode.SUBTRACT)

    # Sketch023 (on Face23 of Pocket014) → Pocket015 (cut, through all)
    with BuildSketch(Plane.XY.offset(4)):
        with Locations((14, 40)):
            Circle(SKETCH023_R)
        with Locations((31.875, 5)):
            Circle(SKETCH023_R)
    extrude(amount=-POCKET015_DEPTH, mode=Mode.SUBTRACT)

    # Sketch024 (on Face5 of Pocket015) → Pad012 (join)
    with BuildSketch(Plane.XY.offset(2)):
        with Locations((29, 1)):
            Rectangle(SKETCH024_W, SKETCH024_H)
    extrude(amount=PAD012_DEPTH)

    # Sketch025 (on Face23 of Pad012) → Pocket016 (cut)
    with BuildSketch(Plane.XZ):
        with Locations((4, 5.6)):
            Circle(SKETCH025_R)
        with Locations((49.5, 5.6)):
            Circle(SKETCH025_R)
        with Locations((27, 5.6)):
            Circle(SKETCH025_R)
        with BuildLine():
            Line((15, 8.6), (18.5, 8.6))
            Line((18.5, 8.6), (18.5, 3.75))
            ThreePointArc((15, 3.75), (16.75, 2), (18.5, 3.75))
            Line((15, 8.6), (15, 3.75))
        make_face()
    extrude(amount=-POCKET016_DEPTH, mode=Mode.SUBTRACT)

    # Sketch026 (on Face6 of Pocket016) → Pocket017 (cut, through all)
    with BuildSketch(Plane(origin=(0, 2, 0), x_dir=(-1, 0, 0), z_dir=(0, 1, 0))):
        with Locations((-27, 5.6)):
            Circle(SKETCH026_R)
    extrude(amount=POCKET017_DEPTH, mode=Mode.SUBTRACT)


solid = Compound([original.part, no_holder.part, sd_expander.part, sd_io.part])
